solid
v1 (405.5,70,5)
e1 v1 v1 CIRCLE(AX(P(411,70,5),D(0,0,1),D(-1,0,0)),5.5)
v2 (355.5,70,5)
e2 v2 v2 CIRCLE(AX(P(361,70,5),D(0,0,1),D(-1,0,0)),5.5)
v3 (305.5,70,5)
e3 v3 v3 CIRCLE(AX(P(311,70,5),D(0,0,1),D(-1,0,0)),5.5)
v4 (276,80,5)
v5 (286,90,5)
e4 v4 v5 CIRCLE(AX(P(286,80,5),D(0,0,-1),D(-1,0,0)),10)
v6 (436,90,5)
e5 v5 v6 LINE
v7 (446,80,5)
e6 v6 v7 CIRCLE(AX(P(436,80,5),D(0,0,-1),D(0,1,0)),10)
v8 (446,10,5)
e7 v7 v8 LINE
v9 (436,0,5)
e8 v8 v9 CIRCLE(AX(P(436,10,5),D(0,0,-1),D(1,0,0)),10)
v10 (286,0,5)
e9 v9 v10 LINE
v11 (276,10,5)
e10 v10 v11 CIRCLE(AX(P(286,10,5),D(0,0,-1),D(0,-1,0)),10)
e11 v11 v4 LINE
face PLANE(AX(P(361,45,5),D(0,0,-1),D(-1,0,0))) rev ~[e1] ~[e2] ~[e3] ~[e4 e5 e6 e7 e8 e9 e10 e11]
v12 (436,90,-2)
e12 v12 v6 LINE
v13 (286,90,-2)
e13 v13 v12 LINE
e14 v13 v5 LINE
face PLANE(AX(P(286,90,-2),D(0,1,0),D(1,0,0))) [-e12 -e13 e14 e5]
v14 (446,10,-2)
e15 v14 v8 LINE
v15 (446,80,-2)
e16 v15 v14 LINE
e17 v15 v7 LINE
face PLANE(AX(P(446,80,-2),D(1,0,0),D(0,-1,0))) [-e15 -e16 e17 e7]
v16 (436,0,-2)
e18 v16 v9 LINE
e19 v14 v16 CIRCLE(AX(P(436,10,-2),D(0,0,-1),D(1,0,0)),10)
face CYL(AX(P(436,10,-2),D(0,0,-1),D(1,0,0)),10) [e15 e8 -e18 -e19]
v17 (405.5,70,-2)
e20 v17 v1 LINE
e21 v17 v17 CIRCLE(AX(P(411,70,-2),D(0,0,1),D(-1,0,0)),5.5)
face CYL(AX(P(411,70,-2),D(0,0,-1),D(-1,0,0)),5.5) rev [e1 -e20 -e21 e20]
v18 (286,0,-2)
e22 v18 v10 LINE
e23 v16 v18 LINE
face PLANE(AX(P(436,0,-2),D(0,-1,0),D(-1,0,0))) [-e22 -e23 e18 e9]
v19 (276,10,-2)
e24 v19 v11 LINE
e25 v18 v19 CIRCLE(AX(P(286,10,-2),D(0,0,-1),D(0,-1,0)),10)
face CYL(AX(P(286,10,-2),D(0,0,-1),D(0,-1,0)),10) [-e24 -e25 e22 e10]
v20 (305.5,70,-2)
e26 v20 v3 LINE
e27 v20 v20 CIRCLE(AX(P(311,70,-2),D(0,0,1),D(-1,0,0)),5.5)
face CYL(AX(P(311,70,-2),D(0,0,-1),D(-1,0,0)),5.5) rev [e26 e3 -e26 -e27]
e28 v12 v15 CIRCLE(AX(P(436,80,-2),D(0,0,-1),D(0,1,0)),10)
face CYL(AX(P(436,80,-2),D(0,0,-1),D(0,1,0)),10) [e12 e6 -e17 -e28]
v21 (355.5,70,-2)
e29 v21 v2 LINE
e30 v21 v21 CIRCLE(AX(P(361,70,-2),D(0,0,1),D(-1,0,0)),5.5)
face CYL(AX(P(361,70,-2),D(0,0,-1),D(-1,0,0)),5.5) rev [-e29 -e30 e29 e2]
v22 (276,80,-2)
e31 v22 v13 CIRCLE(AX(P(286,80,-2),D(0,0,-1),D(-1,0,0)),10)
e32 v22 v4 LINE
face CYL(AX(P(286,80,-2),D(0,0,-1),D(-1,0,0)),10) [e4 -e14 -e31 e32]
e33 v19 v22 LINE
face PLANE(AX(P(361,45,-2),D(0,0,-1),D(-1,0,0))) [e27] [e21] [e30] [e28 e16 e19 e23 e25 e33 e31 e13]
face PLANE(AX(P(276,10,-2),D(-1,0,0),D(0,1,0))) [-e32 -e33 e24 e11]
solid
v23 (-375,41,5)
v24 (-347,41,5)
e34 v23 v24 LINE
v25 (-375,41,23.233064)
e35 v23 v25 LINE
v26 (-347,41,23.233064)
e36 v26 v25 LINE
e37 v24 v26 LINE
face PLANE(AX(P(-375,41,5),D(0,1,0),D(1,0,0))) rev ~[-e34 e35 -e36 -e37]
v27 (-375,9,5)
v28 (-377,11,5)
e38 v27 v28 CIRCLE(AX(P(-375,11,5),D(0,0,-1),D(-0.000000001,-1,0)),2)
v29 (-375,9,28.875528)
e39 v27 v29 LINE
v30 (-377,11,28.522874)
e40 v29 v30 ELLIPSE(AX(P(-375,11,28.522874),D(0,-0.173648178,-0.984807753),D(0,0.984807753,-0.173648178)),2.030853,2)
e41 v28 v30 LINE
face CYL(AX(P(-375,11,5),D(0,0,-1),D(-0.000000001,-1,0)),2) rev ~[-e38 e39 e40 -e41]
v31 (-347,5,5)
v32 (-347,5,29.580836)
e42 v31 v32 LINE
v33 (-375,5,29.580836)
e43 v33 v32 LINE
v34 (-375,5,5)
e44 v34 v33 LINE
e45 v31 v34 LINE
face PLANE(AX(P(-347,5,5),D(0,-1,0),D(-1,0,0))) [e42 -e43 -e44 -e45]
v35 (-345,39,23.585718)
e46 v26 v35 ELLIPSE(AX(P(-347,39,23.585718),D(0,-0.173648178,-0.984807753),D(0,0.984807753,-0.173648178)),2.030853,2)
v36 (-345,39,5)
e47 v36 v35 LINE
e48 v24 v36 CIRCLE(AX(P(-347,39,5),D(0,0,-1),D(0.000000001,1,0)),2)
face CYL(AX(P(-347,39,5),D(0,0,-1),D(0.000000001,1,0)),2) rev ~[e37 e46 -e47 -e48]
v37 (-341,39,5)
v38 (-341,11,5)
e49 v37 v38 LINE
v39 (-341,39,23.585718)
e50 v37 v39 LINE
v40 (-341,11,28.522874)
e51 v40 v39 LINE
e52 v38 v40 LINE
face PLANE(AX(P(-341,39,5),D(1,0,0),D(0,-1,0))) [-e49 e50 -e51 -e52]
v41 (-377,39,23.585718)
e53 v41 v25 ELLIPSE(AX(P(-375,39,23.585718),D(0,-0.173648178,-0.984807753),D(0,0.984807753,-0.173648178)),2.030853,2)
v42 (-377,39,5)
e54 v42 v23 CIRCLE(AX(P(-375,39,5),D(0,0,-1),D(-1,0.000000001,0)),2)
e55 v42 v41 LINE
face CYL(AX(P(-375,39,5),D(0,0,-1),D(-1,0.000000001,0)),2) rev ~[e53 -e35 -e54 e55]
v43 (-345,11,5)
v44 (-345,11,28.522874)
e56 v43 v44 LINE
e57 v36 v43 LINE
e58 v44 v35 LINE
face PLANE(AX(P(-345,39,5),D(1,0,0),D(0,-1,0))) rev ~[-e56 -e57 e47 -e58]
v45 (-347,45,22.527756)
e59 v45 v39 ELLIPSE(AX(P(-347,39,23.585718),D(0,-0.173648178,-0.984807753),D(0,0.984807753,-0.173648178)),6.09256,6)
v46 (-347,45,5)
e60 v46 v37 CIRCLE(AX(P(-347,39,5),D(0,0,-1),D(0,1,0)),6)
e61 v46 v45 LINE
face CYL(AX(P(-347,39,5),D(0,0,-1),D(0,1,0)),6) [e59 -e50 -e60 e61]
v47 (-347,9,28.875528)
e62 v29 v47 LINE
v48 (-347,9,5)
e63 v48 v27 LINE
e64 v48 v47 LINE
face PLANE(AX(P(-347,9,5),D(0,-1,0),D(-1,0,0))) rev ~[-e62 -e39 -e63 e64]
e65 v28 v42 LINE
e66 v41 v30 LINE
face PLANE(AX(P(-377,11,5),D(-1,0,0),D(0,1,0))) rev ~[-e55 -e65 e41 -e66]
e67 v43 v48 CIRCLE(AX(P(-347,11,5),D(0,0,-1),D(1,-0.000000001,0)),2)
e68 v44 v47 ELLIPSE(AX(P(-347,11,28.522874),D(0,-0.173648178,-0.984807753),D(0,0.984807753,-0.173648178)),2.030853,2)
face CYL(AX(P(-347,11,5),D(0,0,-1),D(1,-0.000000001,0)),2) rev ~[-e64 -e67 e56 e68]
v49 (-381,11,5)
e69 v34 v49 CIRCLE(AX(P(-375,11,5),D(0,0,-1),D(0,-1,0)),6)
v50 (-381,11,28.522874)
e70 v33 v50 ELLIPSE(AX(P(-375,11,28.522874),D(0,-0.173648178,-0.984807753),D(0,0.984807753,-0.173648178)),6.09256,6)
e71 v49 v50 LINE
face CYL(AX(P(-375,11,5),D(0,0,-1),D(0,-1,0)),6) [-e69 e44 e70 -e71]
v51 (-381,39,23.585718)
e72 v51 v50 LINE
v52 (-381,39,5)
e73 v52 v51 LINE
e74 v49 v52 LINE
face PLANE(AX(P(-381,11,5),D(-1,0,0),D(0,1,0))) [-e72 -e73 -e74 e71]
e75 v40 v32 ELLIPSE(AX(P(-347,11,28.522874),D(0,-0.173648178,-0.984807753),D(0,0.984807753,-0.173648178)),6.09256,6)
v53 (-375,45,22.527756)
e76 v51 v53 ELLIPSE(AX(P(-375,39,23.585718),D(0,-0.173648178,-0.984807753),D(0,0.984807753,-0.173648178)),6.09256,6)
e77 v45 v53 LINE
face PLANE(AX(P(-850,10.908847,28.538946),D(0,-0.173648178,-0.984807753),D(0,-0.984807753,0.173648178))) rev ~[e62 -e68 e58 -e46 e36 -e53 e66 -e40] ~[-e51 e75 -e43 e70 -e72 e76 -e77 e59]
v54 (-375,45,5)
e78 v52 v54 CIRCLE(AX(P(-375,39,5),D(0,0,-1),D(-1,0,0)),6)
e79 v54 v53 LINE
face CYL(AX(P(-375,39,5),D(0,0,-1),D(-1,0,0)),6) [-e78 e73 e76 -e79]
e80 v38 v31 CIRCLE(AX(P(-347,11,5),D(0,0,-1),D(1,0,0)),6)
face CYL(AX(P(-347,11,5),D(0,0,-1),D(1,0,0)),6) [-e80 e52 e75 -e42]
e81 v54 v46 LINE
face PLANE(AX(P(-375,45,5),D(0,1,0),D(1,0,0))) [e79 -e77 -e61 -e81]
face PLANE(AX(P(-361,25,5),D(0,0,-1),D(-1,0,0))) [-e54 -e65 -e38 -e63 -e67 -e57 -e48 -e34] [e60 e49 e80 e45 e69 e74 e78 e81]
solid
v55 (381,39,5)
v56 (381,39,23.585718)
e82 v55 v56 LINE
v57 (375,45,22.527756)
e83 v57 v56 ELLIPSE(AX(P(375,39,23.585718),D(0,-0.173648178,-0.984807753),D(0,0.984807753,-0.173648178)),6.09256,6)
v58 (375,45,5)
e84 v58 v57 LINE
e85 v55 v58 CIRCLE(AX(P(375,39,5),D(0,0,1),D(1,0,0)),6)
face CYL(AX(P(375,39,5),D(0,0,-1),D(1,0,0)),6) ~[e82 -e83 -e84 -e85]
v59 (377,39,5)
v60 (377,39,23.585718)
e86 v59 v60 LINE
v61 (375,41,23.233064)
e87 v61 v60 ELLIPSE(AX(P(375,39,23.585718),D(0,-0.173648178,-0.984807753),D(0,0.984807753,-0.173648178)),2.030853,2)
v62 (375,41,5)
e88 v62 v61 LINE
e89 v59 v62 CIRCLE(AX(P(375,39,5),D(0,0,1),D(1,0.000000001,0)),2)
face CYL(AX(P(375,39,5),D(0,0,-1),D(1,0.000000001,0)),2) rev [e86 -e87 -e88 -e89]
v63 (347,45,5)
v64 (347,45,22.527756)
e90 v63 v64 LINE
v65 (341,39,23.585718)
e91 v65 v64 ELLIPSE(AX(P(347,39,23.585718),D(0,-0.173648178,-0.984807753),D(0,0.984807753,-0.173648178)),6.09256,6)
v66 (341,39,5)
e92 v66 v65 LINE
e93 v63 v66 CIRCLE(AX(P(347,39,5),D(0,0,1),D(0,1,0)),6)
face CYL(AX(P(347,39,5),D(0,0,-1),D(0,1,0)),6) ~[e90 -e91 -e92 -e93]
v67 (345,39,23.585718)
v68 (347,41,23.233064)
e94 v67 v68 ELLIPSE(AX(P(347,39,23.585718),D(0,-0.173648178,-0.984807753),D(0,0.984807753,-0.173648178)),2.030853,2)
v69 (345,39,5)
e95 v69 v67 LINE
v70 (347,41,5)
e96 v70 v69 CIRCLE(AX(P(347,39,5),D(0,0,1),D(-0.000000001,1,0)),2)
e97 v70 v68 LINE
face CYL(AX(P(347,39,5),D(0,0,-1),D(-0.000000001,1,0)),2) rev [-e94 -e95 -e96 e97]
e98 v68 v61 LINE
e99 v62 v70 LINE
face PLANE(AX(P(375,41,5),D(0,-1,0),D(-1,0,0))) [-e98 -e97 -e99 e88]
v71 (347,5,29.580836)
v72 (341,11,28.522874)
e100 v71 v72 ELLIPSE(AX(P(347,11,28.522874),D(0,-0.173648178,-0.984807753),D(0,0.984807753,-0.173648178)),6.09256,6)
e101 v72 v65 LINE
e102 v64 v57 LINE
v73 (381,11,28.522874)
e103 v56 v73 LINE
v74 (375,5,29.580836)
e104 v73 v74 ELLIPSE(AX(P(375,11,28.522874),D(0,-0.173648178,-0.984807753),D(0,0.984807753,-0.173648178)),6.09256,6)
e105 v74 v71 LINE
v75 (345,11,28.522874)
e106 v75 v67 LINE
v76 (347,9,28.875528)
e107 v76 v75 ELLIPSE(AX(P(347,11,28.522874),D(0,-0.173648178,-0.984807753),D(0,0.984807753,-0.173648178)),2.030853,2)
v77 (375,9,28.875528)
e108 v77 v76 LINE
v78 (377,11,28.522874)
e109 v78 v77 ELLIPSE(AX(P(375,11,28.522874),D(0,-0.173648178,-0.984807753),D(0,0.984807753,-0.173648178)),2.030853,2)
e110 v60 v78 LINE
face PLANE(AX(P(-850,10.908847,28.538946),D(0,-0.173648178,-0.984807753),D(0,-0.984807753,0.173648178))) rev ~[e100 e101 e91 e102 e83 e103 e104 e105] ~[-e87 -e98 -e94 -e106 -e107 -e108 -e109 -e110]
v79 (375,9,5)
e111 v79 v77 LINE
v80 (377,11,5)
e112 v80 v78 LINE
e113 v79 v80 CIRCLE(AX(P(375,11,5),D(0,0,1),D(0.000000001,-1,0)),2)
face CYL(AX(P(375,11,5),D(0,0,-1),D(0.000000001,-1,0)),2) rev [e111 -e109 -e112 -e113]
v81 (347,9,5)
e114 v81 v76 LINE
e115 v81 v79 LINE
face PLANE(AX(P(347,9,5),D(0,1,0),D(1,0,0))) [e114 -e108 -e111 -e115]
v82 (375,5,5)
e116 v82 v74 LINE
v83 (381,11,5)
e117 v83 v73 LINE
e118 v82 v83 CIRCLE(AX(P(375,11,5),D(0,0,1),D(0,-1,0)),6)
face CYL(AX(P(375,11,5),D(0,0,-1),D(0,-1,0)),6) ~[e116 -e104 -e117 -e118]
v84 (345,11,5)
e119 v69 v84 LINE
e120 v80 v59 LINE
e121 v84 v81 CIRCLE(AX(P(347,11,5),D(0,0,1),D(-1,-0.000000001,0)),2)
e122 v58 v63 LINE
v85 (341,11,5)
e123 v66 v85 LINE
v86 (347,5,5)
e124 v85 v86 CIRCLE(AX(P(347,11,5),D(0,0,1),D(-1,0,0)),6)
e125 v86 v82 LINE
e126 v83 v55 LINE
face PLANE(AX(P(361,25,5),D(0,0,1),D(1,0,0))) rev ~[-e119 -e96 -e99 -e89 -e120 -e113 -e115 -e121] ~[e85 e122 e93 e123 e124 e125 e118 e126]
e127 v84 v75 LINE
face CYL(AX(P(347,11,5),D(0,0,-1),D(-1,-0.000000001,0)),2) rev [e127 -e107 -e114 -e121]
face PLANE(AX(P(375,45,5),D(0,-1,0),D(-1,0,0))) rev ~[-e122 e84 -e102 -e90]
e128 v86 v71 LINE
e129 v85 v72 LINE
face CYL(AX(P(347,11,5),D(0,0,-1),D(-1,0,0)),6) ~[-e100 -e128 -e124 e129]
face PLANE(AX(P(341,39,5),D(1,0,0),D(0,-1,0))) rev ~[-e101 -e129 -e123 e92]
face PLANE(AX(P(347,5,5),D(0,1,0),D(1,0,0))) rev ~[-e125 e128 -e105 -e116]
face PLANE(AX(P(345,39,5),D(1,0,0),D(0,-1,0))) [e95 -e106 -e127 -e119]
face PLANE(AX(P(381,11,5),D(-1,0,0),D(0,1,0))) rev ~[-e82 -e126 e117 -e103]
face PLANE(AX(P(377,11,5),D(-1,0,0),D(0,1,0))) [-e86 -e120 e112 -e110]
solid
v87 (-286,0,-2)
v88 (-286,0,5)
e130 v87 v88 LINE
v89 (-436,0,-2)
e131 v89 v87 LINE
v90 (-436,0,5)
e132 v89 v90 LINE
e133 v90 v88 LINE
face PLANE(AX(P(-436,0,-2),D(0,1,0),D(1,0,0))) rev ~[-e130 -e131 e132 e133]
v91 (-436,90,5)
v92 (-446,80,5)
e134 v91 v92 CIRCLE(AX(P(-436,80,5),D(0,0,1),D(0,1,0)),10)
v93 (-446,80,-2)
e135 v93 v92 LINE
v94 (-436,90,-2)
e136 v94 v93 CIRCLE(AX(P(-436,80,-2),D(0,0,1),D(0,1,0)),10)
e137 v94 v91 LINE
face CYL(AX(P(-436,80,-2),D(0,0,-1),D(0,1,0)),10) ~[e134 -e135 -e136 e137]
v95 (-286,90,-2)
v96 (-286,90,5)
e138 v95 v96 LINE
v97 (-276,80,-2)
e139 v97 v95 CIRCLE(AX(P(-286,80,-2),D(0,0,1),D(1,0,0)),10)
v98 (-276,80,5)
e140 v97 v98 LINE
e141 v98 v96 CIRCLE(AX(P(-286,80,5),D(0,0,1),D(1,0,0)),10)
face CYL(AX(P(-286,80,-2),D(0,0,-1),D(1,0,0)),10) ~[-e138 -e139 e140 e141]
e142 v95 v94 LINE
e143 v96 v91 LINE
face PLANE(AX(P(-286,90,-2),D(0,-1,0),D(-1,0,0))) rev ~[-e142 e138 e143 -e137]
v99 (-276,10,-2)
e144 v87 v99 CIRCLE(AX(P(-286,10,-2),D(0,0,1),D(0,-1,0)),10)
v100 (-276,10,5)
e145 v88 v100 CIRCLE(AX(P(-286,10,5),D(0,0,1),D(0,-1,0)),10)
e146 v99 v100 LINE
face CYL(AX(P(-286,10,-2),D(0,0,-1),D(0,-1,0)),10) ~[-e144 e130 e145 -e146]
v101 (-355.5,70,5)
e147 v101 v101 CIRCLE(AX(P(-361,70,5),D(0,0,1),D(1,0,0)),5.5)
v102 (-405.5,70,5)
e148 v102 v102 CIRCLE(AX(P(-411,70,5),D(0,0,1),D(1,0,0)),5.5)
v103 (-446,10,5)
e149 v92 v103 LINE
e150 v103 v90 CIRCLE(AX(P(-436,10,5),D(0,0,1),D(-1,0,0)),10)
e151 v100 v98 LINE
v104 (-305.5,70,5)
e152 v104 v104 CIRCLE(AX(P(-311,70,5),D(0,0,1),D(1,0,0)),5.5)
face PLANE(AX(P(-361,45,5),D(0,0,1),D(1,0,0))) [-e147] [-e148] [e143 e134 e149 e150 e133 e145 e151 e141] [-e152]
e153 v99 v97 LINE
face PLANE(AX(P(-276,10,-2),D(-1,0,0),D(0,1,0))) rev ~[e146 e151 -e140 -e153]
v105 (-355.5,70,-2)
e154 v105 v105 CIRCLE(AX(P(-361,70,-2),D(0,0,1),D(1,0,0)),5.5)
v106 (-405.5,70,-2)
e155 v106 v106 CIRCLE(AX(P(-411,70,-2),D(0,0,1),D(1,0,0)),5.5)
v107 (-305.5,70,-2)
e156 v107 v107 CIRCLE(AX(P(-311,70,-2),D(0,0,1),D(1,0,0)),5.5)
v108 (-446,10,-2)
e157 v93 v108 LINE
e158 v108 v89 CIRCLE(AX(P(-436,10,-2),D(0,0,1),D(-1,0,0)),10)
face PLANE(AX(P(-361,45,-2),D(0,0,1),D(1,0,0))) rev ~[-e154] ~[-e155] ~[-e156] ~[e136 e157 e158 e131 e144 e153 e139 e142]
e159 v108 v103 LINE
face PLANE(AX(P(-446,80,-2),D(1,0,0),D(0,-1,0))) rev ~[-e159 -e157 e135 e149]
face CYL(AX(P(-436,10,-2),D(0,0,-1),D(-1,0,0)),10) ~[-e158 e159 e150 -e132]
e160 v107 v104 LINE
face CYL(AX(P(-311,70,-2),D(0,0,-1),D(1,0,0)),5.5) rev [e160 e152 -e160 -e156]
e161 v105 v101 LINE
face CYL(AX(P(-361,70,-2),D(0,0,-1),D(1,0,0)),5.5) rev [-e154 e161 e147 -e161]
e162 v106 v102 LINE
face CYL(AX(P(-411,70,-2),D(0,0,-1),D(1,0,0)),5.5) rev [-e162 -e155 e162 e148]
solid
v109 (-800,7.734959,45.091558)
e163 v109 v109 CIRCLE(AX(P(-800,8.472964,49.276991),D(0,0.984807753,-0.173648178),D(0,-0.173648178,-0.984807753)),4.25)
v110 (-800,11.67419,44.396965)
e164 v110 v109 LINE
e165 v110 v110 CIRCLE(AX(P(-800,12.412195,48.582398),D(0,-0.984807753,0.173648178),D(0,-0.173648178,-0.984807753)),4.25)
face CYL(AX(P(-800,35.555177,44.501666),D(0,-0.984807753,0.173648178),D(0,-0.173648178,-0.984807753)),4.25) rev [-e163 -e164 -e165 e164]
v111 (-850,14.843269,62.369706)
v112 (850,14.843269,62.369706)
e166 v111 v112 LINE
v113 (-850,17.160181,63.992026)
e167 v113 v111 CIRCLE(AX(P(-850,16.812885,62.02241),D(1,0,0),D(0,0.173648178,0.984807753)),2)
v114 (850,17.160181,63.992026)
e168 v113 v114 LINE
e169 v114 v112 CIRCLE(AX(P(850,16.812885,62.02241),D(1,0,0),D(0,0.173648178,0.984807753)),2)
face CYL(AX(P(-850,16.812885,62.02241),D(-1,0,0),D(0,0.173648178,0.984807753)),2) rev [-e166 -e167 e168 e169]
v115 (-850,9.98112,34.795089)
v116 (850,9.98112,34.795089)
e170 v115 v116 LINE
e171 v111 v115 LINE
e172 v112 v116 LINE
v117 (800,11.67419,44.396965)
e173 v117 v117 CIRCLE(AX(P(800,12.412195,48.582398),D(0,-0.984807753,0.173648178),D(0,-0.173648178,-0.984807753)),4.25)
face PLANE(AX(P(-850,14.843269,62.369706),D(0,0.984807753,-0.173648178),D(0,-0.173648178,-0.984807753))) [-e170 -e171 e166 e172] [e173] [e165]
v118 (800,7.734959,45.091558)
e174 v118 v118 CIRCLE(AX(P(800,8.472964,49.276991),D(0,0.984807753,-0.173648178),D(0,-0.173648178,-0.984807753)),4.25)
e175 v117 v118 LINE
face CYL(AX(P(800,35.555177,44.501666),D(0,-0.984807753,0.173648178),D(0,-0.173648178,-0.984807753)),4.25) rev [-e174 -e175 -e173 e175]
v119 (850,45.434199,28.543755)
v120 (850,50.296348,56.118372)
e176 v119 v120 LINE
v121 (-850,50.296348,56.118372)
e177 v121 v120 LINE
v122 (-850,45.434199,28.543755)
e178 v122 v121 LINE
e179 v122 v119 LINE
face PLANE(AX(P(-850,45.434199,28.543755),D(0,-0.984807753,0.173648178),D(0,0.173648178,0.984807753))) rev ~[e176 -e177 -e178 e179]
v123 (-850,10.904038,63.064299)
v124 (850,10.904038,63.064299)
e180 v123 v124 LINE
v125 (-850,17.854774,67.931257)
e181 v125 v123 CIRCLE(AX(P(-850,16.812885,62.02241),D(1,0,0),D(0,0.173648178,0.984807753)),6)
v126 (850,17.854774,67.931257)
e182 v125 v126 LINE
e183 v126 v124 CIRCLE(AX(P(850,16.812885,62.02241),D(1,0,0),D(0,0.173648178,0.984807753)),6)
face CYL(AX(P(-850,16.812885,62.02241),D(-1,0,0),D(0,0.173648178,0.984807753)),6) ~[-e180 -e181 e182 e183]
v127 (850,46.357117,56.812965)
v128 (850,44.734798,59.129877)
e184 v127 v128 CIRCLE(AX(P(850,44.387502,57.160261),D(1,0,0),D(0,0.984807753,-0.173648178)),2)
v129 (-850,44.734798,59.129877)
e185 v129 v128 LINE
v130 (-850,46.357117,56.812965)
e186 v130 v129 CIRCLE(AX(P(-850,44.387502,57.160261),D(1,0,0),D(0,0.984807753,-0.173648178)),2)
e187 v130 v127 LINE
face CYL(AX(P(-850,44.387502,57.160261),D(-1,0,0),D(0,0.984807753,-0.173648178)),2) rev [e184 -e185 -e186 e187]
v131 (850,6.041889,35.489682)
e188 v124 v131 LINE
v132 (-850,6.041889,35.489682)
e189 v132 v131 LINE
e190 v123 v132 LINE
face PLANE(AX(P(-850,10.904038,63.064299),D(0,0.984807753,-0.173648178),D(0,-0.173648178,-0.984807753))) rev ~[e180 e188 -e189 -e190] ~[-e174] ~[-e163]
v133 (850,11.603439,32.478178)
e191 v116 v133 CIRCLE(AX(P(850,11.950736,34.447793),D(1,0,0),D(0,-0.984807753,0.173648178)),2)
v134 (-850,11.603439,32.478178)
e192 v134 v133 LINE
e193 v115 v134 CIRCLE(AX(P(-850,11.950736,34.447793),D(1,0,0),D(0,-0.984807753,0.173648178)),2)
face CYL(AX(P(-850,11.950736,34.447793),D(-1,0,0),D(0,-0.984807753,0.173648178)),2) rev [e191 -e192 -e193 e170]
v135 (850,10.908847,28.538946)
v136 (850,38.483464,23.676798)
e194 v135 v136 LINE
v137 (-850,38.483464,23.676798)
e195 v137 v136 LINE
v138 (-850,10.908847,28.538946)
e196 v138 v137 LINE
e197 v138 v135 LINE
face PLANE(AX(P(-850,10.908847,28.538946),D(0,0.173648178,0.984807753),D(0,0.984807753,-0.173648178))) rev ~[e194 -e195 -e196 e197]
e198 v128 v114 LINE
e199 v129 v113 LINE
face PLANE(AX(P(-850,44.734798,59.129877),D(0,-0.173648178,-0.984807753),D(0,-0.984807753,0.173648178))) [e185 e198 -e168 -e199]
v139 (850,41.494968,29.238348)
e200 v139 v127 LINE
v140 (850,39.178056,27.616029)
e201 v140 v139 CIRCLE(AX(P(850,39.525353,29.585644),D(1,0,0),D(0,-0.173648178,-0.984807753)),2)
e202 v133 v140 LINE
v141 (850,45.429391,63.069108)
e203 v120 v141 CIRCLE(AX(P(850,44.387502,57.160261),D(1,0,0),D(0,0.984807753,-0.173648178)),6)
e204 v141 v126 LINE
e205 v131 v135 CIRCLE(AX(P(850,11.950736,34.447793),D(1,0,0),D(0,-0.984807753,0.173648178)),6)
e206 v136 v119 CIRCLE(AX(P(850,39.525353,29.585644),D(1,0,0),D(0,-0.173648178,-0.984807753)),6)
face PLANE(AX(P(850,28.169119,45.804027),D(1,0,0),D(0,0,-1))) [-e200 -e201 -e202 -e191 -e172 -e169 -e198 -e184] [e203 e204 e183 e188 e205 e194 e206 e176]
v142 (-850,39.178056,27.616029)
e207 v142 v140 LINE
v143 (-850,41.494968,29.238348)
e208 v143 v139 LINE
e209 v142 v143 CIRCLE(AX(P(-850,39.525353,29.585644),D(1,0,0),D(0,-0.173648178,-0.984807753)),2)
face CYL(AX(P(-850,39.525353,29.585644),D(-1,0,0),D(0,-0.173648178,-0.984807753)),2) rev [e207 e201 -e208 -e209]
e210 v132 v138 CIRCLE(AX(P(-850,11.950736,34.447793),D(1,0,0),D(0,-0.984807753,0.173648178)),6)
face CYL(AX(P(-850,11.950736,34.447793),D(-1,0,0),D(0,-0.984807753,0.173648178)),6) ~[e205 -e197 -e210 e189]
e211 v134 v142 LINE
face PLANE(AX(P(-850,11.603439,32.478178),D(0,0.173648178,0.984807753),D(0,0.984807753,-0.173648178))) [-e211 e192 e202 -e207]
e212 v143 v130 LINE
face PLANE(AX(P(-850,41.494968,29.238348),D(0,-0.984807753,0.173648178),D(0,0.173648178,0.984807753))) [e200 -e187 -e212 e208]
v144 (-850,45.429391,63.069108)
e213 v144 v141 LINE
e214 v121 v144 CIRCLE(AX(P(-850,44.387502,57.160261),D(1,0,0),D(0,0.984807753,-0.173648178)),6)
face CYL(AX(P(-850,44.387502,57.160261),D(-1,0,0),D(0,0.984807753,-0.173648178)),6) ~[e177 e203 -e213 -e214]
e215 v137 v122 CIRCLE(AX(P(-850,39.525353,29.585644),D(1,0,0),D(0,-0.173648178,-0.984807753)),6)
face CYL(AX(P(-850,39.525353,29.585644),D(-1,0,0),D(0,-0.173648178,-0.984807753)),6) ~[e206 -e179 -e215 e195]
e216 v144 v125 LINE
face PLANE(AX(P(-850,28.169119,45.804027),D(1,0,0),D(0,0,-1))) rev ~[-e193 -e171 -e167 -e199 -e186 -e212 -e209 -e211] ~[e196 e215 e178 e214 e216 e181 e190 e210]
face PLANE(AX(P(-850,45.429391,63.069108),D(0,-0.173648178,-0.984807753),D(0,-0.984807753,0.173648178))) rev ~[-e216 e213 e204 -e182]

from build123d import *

# Parameters (mm, degrees)
DODANIE_WYCI_GNI_CIE1_DEPTH        = 5
DODANIE_WYCI_GNI_CIE1_DEPTH_BACK   = 2
SZKIC1_R                           = 5.5
DODANIE_WYCI_GNI_CIE1_2_DEPTH      = 5
DODANIE_WYCI_GNI_CIE1_2_DEPTH_BACK = 2
DODANIE_WYCI_GNI_CIE2_DEPTH        = 850
DODANIE_WYCI_GNI_CIE2_DEPTH_BACK   = 850
DODANIE_WYCI_GNI_CIE3_REACH        = 859.072
OTW_R_GWINTOWANY_M101_AT_2_COUNT   = 2
OTW_R_GWINTOWANY_M101_AT_2_PITCH   = 1600


with BuildPart() as part:
    # Szkic1 → Dodanie-wyciągnięcie1 (new, two sides: drawn at the far end of the back side and taken through both)
    with BuildSketch(Plane.XY.offset(-DODANIE_WYCI_GNI_CIE1_DEPTH_BACK)):
        with BuildLine():
            Line((-436, 0), (-286, 0))
            ThreePointArc((-286, 0), (-278.928932188, 2.928932188), (-276, 10))
            Line((-276, 10), (-276, 80))
            ThreePointArc((-276, 80), (-278.928932188, 87.071067812), (-286, 90))
            Line((-286, 90), (-436, 90))
            ThreePointArc((-436, 90), (-443.071067812, 87.071067812), (-446, 80))
            Line((-446, 80), (-446, 10))
            ThreePointArc((-446, 10), (-443.071067812, 2.928932188), (-436, 0))
        make_face()
        with Locations((-411, 70)):
            Circle(SZKIC1_R, mode=Mode.SUBTRACT)
        with Locations((-361, 70)):
            Circle(SZKIC1_R, mode=Mode.SUBTRACT)
        with Locations((-311, 70)):
            Circle(SZKIC1_R, mode=Mode.SUBTRACT)
    extrude(amount=DODANIE_WYCI_GNI_CIE1_DEPTH + DODANIE_WYCI_GNI_CIE1_DEPTH_BACK)


with BuildPart() as body_2:
    # Szkic1 → Dodanie-wyci_gni_cie1 2 (new, two sides: drawn at the far end of the back side and taken through both)
    with BuildSketch(Plane.XY.offset(-DODANIE_WYCI_GNI_CIE1_2_DEPTH_BACK)):
        with BuildLine():
            Line((276, 10), (276, 80))
            ThreePointArc((276, 80), (278.928932188, 87.071067812), (286, 90))
            Line((286, 90), (436, 90))
            ThreePointArc((436, 90), (443.071067812, 87.071067812), (446, 80))
            Line((446, 80), (446, 10))
            ThreePointArc((446, 10), (443.071067812, 2.928932188), (436, 0))
            Line((436, 0), (286, 0))
            ThreePointArc((286, 0), (278.928932188, 2.928932188), (276, 10))
        make_face()
        with Locations(Location((311, 70, 0), (0, 0, 180))):
            Circle(SZKIC1_R, mode=Mode.SUBTRACT)
        with Locations(Location((361, 70, 0), (0, 0, 180))):
            Circle(SZKIC1_R, mode=Mode.SUBTRACT)
        with Locations(Location((411, 70, 0), (0, 0, 180))):
            Circle(SZKIC1_R, mode=Mode.SUBTRACT)
    extrude(amount=DODANIE_WYCI_GNI_CIE1_2_DEPTH + DODANIE_WYCI_GNI_CIE1_2_DEPTH_BACK)


with BuildPart() as body_3:
    # Szkic2 → Dodanie-wyciągnięcie2 (new, two sides: drawn at the far end of the back side and taken through both)
    with BuildSketch(Plane(origin=(0, 0, 0), x_dir=(0, 0, -1), z_dir=(1, 0, 0)).offset(-DODANIE_WYCI_GNI_CIE2_DEPTH_BACK)):
        with BuildLine():
            Line((-28.543754975, 45.434199186), (-56.118372059, 50.296348161))
            ThreePointArc((-56.118372059, 50.296348161), (-60.601719743, 49.302413909), (-63.069107643, 45.429390709))
            Line((-63.069107643, 45.429390709), (-67.931256618, 17.854773625))
            ThreePointArc((-67.931256618, 17.854773625), (-66.937322366, 13.371425941), (-63.064299166, 10.904038041))
            Line((-63.064299166, 10.904038041), (-35.489682082, 6.041889066))
            ThreePointArc((-35.489682082, 6.041889066), (-31.006334398, 7.035823318), (-28.538946498, 10.908846518))
            Line((-28.538946498, 10.908846518), (-23.676797523, 38.483463602))
            ThreePointArc((-23.676797523, 38.483463602), (-24.670731775, 42.966811287), (-28.543754975, 45.434199186))
        make_face()
        with BuildLine():
            Line((-29.238347686, 41.494968174), (-56.81296477, 46.357117149))
            ThreePointArc((-56.81296477, 46.357117149), (-58.307413998, 46.025805732), (-59.129876631, 44.734797998))
            Line((-59.129876631, 44.734797998), (-63.992025606, 17.160180914))
            ThreePointArc((-63.992025606, 17.160180914), (-63.660714189, 15.665731686), (-62.369706455, 14.843269053))
            Line((-62.369706455, 14.843269053), (-34.795089371, 9.981120078))
            ThreePointArc((-34.795089371, 9.981120078), (-33.300640143, 10.312431495), (-32.47817751, 11.603439229))
            Line((-32.47817751, 11.603439229), (-27.616028535, 39.178056313))
            ThreePointArc((-27.616028535, 39.178056313), (-27.947339952, 40.672505541), (-29.238347686, 41.494968174))
        make_face(mode=Mode.SUBTRACT)
    extrude(amount=DODANIE_WYCI_GNI_CIE2_DEPTH + DODANIE_WYCI_GNI_CIE2_DEPTH_BACK)

    # Szkic5 → Otwór gwintowany M101 (revolve, cut)
    with BuildSketch(Plane(origin=(-800, 8.472963553, 49.276990624), x_dir=(0, -0.17364817766693064, -0.9848077530122081), z_dir=(1, 0, 0))):
        Polygon((0, 0), (0, 30.053657631), (4.25, 27.5), (4.25, 0), align=None)
    otw_r_gwintowany_m101 = revolve(axis=Axis((-800, 2.219434322, 50.379656552), (0, 0.9848077530122081, -0.17364817766693066)), mode=Mode.SUBTRACT)

    # Otwór gwintowany M101 at 2: Otwór gwintowany M101 ×2
    with Locations(*[(i * OTW_R_GWINTOWANY_M101_AT_2_PITCH, 0, 0) for i in range(1, OTW_R_GWINTOWANY_M101_AT_2_COUNT)]):
        add(otw_r_gwintowany_m101, mode=Mode.SUBTRACT)


with BuildPart() as body_4:
    # Dodanie-wyciągnięcie3: up to this plane
    dodanie_wyci_gni_cie3_end = Plane(origin=(-850, 10.908846518, 28.538946498), z_dir=(0, -0.17364817766693066, -0.984807753012208))
    # Szkic3 → Dodanie-wyciągnięcie3 (new, up to the surface)
    with BuildSketch(Plane(origin=(0, 0, 5), x_dir=(-1, 0, 0), z_dir=(0, 0, -1)), mode=Mode.PRIVATE) as dodanie_wyci_gni_cie3_sk1:
        with BuildLine():
            Line((375, 45), (347, 45))
            ThreePointArc((347, 45), (342.757359313, 43.242640687), (341, 39))
            Line((341, 39), (341, 11))
            ThreePointArc((341, 11), (342.757359313, 6.757359313), (347, 5))
            Line((347, 5), (375, 5))
            ThreePointArc((375, 5), (379.242640687, 6.757359313), (381, 11))
            Line((381, 11), (381, 39))
            ThreePointArc((381, 39), (379.242640687, 43.242640687), (375, 45))
        make_face()
        with BuildLine():
            Line((375, 41), (347, 41))
            ThreePointArc((347, 41), (345.585786438, 40.414213562), (345, 39))
            Line((345, 39), (345, 11))
            ThreePointArc((345, 11), (345.585786438, 9.585786438), (347, 9))
            Line((347, 9), (375, 9))
            ThreePointArc((375, 9), (376.414213562, 9.585786438), (377, 11))
            Line((377, 11), (377, 39))
            ThreePointArc((377, 39), (376.414213562, 40.414213562), (375, 41))
        make_face(mode=Mode.SUBTRACT)
    dodanie_wyci_gni_cie3_tool1 = split(extrude(dodanie_wyci_gni_cie3_sk1.sketch, amount=-DODANIE_WYCI_GNI_CIE3_REACH, mode=Mode.PRIVATE), bisect_by=dodanie_wyci_gni_cie3_end, keep=Keep.BOTH, mode=Mode.PRIVATE)
    add(dodanie_wyci_gni_cie3_tool1.solids().sort_by_distance((-361, 44.434315, 5))[0])
    # Szkic3 → Dodanie-wyciągnięcie3 (new, up to the surface)
    with BuildSketch(Plane(origin=(0, 0, 5), x_dir=(-1, 0, 0), z_dir=(0, 0, -1)), mode=Mode.PRIVATE) as dodanie_wyci_gni_cie3_sk2:
        with BuildLine():
            Line((-381, 11), (-381, 39))
            ThreePointArc((-381, 39), (-379.242640687, 43.242640687), (-375, 45))
            Line((-375, 45), (-347, 45))
            ThreePointArc((-347, 45), (-342.757359313, 43.242640687), (-341, 39))
            Line((-341, 39), (-341, 11))
            ThreePointArc((-341, 11), (-342.757359313, 6.757359313), (-347, 5))
            Line((-347, 5), (-375, 5))
            ThreePointArc((-375, 5), (-379.242640687, 6.757359313), (-381, 11))
        make_face()
        with BuildLine():
            Line((-377, 11), (-377, 39))
            ThreePointArc((-377, 39), (-376.414213562, 40.414213562), (-375, 41))
            Line((-375, 41), (-347, 41))
            ThreePointArc((-347, 41), (-345.585786438, 40.414213562), (-345, 39))
            Line((-345, 39), (-345, 11))
            ThreePointArc((-345, 11), (-345.585786438, 9.585786438), (-347, 9))
            Line((-347, 9), (-375, 9))
            ThreePointArc((-375, 9), (-376.414213562, 9.585786438), (-377, 11))
        make_face(mode=Mode.SUBTRACT)
    dodanie_wyci_gni_cie3_tool2 = split(extrude(dodanie_wyci_gni_cie3_sk2.sketch, amount=-DODANIE_WYCI_GNI_CIE3_REACH, mode=Mode.PRIVATE), bisect_by=dodanie_wyci_gni_cie3_end, keep=Keep.BOTH, mode=Mode.PRIVATE)
    add(dodanie_wyci_gni_cie3_tool2.solids().sort_by_distance((378.842641, 7.157359, 5))[0])


solid = Compound([part.part, body_2.part, body_3.part, body_4.part])
